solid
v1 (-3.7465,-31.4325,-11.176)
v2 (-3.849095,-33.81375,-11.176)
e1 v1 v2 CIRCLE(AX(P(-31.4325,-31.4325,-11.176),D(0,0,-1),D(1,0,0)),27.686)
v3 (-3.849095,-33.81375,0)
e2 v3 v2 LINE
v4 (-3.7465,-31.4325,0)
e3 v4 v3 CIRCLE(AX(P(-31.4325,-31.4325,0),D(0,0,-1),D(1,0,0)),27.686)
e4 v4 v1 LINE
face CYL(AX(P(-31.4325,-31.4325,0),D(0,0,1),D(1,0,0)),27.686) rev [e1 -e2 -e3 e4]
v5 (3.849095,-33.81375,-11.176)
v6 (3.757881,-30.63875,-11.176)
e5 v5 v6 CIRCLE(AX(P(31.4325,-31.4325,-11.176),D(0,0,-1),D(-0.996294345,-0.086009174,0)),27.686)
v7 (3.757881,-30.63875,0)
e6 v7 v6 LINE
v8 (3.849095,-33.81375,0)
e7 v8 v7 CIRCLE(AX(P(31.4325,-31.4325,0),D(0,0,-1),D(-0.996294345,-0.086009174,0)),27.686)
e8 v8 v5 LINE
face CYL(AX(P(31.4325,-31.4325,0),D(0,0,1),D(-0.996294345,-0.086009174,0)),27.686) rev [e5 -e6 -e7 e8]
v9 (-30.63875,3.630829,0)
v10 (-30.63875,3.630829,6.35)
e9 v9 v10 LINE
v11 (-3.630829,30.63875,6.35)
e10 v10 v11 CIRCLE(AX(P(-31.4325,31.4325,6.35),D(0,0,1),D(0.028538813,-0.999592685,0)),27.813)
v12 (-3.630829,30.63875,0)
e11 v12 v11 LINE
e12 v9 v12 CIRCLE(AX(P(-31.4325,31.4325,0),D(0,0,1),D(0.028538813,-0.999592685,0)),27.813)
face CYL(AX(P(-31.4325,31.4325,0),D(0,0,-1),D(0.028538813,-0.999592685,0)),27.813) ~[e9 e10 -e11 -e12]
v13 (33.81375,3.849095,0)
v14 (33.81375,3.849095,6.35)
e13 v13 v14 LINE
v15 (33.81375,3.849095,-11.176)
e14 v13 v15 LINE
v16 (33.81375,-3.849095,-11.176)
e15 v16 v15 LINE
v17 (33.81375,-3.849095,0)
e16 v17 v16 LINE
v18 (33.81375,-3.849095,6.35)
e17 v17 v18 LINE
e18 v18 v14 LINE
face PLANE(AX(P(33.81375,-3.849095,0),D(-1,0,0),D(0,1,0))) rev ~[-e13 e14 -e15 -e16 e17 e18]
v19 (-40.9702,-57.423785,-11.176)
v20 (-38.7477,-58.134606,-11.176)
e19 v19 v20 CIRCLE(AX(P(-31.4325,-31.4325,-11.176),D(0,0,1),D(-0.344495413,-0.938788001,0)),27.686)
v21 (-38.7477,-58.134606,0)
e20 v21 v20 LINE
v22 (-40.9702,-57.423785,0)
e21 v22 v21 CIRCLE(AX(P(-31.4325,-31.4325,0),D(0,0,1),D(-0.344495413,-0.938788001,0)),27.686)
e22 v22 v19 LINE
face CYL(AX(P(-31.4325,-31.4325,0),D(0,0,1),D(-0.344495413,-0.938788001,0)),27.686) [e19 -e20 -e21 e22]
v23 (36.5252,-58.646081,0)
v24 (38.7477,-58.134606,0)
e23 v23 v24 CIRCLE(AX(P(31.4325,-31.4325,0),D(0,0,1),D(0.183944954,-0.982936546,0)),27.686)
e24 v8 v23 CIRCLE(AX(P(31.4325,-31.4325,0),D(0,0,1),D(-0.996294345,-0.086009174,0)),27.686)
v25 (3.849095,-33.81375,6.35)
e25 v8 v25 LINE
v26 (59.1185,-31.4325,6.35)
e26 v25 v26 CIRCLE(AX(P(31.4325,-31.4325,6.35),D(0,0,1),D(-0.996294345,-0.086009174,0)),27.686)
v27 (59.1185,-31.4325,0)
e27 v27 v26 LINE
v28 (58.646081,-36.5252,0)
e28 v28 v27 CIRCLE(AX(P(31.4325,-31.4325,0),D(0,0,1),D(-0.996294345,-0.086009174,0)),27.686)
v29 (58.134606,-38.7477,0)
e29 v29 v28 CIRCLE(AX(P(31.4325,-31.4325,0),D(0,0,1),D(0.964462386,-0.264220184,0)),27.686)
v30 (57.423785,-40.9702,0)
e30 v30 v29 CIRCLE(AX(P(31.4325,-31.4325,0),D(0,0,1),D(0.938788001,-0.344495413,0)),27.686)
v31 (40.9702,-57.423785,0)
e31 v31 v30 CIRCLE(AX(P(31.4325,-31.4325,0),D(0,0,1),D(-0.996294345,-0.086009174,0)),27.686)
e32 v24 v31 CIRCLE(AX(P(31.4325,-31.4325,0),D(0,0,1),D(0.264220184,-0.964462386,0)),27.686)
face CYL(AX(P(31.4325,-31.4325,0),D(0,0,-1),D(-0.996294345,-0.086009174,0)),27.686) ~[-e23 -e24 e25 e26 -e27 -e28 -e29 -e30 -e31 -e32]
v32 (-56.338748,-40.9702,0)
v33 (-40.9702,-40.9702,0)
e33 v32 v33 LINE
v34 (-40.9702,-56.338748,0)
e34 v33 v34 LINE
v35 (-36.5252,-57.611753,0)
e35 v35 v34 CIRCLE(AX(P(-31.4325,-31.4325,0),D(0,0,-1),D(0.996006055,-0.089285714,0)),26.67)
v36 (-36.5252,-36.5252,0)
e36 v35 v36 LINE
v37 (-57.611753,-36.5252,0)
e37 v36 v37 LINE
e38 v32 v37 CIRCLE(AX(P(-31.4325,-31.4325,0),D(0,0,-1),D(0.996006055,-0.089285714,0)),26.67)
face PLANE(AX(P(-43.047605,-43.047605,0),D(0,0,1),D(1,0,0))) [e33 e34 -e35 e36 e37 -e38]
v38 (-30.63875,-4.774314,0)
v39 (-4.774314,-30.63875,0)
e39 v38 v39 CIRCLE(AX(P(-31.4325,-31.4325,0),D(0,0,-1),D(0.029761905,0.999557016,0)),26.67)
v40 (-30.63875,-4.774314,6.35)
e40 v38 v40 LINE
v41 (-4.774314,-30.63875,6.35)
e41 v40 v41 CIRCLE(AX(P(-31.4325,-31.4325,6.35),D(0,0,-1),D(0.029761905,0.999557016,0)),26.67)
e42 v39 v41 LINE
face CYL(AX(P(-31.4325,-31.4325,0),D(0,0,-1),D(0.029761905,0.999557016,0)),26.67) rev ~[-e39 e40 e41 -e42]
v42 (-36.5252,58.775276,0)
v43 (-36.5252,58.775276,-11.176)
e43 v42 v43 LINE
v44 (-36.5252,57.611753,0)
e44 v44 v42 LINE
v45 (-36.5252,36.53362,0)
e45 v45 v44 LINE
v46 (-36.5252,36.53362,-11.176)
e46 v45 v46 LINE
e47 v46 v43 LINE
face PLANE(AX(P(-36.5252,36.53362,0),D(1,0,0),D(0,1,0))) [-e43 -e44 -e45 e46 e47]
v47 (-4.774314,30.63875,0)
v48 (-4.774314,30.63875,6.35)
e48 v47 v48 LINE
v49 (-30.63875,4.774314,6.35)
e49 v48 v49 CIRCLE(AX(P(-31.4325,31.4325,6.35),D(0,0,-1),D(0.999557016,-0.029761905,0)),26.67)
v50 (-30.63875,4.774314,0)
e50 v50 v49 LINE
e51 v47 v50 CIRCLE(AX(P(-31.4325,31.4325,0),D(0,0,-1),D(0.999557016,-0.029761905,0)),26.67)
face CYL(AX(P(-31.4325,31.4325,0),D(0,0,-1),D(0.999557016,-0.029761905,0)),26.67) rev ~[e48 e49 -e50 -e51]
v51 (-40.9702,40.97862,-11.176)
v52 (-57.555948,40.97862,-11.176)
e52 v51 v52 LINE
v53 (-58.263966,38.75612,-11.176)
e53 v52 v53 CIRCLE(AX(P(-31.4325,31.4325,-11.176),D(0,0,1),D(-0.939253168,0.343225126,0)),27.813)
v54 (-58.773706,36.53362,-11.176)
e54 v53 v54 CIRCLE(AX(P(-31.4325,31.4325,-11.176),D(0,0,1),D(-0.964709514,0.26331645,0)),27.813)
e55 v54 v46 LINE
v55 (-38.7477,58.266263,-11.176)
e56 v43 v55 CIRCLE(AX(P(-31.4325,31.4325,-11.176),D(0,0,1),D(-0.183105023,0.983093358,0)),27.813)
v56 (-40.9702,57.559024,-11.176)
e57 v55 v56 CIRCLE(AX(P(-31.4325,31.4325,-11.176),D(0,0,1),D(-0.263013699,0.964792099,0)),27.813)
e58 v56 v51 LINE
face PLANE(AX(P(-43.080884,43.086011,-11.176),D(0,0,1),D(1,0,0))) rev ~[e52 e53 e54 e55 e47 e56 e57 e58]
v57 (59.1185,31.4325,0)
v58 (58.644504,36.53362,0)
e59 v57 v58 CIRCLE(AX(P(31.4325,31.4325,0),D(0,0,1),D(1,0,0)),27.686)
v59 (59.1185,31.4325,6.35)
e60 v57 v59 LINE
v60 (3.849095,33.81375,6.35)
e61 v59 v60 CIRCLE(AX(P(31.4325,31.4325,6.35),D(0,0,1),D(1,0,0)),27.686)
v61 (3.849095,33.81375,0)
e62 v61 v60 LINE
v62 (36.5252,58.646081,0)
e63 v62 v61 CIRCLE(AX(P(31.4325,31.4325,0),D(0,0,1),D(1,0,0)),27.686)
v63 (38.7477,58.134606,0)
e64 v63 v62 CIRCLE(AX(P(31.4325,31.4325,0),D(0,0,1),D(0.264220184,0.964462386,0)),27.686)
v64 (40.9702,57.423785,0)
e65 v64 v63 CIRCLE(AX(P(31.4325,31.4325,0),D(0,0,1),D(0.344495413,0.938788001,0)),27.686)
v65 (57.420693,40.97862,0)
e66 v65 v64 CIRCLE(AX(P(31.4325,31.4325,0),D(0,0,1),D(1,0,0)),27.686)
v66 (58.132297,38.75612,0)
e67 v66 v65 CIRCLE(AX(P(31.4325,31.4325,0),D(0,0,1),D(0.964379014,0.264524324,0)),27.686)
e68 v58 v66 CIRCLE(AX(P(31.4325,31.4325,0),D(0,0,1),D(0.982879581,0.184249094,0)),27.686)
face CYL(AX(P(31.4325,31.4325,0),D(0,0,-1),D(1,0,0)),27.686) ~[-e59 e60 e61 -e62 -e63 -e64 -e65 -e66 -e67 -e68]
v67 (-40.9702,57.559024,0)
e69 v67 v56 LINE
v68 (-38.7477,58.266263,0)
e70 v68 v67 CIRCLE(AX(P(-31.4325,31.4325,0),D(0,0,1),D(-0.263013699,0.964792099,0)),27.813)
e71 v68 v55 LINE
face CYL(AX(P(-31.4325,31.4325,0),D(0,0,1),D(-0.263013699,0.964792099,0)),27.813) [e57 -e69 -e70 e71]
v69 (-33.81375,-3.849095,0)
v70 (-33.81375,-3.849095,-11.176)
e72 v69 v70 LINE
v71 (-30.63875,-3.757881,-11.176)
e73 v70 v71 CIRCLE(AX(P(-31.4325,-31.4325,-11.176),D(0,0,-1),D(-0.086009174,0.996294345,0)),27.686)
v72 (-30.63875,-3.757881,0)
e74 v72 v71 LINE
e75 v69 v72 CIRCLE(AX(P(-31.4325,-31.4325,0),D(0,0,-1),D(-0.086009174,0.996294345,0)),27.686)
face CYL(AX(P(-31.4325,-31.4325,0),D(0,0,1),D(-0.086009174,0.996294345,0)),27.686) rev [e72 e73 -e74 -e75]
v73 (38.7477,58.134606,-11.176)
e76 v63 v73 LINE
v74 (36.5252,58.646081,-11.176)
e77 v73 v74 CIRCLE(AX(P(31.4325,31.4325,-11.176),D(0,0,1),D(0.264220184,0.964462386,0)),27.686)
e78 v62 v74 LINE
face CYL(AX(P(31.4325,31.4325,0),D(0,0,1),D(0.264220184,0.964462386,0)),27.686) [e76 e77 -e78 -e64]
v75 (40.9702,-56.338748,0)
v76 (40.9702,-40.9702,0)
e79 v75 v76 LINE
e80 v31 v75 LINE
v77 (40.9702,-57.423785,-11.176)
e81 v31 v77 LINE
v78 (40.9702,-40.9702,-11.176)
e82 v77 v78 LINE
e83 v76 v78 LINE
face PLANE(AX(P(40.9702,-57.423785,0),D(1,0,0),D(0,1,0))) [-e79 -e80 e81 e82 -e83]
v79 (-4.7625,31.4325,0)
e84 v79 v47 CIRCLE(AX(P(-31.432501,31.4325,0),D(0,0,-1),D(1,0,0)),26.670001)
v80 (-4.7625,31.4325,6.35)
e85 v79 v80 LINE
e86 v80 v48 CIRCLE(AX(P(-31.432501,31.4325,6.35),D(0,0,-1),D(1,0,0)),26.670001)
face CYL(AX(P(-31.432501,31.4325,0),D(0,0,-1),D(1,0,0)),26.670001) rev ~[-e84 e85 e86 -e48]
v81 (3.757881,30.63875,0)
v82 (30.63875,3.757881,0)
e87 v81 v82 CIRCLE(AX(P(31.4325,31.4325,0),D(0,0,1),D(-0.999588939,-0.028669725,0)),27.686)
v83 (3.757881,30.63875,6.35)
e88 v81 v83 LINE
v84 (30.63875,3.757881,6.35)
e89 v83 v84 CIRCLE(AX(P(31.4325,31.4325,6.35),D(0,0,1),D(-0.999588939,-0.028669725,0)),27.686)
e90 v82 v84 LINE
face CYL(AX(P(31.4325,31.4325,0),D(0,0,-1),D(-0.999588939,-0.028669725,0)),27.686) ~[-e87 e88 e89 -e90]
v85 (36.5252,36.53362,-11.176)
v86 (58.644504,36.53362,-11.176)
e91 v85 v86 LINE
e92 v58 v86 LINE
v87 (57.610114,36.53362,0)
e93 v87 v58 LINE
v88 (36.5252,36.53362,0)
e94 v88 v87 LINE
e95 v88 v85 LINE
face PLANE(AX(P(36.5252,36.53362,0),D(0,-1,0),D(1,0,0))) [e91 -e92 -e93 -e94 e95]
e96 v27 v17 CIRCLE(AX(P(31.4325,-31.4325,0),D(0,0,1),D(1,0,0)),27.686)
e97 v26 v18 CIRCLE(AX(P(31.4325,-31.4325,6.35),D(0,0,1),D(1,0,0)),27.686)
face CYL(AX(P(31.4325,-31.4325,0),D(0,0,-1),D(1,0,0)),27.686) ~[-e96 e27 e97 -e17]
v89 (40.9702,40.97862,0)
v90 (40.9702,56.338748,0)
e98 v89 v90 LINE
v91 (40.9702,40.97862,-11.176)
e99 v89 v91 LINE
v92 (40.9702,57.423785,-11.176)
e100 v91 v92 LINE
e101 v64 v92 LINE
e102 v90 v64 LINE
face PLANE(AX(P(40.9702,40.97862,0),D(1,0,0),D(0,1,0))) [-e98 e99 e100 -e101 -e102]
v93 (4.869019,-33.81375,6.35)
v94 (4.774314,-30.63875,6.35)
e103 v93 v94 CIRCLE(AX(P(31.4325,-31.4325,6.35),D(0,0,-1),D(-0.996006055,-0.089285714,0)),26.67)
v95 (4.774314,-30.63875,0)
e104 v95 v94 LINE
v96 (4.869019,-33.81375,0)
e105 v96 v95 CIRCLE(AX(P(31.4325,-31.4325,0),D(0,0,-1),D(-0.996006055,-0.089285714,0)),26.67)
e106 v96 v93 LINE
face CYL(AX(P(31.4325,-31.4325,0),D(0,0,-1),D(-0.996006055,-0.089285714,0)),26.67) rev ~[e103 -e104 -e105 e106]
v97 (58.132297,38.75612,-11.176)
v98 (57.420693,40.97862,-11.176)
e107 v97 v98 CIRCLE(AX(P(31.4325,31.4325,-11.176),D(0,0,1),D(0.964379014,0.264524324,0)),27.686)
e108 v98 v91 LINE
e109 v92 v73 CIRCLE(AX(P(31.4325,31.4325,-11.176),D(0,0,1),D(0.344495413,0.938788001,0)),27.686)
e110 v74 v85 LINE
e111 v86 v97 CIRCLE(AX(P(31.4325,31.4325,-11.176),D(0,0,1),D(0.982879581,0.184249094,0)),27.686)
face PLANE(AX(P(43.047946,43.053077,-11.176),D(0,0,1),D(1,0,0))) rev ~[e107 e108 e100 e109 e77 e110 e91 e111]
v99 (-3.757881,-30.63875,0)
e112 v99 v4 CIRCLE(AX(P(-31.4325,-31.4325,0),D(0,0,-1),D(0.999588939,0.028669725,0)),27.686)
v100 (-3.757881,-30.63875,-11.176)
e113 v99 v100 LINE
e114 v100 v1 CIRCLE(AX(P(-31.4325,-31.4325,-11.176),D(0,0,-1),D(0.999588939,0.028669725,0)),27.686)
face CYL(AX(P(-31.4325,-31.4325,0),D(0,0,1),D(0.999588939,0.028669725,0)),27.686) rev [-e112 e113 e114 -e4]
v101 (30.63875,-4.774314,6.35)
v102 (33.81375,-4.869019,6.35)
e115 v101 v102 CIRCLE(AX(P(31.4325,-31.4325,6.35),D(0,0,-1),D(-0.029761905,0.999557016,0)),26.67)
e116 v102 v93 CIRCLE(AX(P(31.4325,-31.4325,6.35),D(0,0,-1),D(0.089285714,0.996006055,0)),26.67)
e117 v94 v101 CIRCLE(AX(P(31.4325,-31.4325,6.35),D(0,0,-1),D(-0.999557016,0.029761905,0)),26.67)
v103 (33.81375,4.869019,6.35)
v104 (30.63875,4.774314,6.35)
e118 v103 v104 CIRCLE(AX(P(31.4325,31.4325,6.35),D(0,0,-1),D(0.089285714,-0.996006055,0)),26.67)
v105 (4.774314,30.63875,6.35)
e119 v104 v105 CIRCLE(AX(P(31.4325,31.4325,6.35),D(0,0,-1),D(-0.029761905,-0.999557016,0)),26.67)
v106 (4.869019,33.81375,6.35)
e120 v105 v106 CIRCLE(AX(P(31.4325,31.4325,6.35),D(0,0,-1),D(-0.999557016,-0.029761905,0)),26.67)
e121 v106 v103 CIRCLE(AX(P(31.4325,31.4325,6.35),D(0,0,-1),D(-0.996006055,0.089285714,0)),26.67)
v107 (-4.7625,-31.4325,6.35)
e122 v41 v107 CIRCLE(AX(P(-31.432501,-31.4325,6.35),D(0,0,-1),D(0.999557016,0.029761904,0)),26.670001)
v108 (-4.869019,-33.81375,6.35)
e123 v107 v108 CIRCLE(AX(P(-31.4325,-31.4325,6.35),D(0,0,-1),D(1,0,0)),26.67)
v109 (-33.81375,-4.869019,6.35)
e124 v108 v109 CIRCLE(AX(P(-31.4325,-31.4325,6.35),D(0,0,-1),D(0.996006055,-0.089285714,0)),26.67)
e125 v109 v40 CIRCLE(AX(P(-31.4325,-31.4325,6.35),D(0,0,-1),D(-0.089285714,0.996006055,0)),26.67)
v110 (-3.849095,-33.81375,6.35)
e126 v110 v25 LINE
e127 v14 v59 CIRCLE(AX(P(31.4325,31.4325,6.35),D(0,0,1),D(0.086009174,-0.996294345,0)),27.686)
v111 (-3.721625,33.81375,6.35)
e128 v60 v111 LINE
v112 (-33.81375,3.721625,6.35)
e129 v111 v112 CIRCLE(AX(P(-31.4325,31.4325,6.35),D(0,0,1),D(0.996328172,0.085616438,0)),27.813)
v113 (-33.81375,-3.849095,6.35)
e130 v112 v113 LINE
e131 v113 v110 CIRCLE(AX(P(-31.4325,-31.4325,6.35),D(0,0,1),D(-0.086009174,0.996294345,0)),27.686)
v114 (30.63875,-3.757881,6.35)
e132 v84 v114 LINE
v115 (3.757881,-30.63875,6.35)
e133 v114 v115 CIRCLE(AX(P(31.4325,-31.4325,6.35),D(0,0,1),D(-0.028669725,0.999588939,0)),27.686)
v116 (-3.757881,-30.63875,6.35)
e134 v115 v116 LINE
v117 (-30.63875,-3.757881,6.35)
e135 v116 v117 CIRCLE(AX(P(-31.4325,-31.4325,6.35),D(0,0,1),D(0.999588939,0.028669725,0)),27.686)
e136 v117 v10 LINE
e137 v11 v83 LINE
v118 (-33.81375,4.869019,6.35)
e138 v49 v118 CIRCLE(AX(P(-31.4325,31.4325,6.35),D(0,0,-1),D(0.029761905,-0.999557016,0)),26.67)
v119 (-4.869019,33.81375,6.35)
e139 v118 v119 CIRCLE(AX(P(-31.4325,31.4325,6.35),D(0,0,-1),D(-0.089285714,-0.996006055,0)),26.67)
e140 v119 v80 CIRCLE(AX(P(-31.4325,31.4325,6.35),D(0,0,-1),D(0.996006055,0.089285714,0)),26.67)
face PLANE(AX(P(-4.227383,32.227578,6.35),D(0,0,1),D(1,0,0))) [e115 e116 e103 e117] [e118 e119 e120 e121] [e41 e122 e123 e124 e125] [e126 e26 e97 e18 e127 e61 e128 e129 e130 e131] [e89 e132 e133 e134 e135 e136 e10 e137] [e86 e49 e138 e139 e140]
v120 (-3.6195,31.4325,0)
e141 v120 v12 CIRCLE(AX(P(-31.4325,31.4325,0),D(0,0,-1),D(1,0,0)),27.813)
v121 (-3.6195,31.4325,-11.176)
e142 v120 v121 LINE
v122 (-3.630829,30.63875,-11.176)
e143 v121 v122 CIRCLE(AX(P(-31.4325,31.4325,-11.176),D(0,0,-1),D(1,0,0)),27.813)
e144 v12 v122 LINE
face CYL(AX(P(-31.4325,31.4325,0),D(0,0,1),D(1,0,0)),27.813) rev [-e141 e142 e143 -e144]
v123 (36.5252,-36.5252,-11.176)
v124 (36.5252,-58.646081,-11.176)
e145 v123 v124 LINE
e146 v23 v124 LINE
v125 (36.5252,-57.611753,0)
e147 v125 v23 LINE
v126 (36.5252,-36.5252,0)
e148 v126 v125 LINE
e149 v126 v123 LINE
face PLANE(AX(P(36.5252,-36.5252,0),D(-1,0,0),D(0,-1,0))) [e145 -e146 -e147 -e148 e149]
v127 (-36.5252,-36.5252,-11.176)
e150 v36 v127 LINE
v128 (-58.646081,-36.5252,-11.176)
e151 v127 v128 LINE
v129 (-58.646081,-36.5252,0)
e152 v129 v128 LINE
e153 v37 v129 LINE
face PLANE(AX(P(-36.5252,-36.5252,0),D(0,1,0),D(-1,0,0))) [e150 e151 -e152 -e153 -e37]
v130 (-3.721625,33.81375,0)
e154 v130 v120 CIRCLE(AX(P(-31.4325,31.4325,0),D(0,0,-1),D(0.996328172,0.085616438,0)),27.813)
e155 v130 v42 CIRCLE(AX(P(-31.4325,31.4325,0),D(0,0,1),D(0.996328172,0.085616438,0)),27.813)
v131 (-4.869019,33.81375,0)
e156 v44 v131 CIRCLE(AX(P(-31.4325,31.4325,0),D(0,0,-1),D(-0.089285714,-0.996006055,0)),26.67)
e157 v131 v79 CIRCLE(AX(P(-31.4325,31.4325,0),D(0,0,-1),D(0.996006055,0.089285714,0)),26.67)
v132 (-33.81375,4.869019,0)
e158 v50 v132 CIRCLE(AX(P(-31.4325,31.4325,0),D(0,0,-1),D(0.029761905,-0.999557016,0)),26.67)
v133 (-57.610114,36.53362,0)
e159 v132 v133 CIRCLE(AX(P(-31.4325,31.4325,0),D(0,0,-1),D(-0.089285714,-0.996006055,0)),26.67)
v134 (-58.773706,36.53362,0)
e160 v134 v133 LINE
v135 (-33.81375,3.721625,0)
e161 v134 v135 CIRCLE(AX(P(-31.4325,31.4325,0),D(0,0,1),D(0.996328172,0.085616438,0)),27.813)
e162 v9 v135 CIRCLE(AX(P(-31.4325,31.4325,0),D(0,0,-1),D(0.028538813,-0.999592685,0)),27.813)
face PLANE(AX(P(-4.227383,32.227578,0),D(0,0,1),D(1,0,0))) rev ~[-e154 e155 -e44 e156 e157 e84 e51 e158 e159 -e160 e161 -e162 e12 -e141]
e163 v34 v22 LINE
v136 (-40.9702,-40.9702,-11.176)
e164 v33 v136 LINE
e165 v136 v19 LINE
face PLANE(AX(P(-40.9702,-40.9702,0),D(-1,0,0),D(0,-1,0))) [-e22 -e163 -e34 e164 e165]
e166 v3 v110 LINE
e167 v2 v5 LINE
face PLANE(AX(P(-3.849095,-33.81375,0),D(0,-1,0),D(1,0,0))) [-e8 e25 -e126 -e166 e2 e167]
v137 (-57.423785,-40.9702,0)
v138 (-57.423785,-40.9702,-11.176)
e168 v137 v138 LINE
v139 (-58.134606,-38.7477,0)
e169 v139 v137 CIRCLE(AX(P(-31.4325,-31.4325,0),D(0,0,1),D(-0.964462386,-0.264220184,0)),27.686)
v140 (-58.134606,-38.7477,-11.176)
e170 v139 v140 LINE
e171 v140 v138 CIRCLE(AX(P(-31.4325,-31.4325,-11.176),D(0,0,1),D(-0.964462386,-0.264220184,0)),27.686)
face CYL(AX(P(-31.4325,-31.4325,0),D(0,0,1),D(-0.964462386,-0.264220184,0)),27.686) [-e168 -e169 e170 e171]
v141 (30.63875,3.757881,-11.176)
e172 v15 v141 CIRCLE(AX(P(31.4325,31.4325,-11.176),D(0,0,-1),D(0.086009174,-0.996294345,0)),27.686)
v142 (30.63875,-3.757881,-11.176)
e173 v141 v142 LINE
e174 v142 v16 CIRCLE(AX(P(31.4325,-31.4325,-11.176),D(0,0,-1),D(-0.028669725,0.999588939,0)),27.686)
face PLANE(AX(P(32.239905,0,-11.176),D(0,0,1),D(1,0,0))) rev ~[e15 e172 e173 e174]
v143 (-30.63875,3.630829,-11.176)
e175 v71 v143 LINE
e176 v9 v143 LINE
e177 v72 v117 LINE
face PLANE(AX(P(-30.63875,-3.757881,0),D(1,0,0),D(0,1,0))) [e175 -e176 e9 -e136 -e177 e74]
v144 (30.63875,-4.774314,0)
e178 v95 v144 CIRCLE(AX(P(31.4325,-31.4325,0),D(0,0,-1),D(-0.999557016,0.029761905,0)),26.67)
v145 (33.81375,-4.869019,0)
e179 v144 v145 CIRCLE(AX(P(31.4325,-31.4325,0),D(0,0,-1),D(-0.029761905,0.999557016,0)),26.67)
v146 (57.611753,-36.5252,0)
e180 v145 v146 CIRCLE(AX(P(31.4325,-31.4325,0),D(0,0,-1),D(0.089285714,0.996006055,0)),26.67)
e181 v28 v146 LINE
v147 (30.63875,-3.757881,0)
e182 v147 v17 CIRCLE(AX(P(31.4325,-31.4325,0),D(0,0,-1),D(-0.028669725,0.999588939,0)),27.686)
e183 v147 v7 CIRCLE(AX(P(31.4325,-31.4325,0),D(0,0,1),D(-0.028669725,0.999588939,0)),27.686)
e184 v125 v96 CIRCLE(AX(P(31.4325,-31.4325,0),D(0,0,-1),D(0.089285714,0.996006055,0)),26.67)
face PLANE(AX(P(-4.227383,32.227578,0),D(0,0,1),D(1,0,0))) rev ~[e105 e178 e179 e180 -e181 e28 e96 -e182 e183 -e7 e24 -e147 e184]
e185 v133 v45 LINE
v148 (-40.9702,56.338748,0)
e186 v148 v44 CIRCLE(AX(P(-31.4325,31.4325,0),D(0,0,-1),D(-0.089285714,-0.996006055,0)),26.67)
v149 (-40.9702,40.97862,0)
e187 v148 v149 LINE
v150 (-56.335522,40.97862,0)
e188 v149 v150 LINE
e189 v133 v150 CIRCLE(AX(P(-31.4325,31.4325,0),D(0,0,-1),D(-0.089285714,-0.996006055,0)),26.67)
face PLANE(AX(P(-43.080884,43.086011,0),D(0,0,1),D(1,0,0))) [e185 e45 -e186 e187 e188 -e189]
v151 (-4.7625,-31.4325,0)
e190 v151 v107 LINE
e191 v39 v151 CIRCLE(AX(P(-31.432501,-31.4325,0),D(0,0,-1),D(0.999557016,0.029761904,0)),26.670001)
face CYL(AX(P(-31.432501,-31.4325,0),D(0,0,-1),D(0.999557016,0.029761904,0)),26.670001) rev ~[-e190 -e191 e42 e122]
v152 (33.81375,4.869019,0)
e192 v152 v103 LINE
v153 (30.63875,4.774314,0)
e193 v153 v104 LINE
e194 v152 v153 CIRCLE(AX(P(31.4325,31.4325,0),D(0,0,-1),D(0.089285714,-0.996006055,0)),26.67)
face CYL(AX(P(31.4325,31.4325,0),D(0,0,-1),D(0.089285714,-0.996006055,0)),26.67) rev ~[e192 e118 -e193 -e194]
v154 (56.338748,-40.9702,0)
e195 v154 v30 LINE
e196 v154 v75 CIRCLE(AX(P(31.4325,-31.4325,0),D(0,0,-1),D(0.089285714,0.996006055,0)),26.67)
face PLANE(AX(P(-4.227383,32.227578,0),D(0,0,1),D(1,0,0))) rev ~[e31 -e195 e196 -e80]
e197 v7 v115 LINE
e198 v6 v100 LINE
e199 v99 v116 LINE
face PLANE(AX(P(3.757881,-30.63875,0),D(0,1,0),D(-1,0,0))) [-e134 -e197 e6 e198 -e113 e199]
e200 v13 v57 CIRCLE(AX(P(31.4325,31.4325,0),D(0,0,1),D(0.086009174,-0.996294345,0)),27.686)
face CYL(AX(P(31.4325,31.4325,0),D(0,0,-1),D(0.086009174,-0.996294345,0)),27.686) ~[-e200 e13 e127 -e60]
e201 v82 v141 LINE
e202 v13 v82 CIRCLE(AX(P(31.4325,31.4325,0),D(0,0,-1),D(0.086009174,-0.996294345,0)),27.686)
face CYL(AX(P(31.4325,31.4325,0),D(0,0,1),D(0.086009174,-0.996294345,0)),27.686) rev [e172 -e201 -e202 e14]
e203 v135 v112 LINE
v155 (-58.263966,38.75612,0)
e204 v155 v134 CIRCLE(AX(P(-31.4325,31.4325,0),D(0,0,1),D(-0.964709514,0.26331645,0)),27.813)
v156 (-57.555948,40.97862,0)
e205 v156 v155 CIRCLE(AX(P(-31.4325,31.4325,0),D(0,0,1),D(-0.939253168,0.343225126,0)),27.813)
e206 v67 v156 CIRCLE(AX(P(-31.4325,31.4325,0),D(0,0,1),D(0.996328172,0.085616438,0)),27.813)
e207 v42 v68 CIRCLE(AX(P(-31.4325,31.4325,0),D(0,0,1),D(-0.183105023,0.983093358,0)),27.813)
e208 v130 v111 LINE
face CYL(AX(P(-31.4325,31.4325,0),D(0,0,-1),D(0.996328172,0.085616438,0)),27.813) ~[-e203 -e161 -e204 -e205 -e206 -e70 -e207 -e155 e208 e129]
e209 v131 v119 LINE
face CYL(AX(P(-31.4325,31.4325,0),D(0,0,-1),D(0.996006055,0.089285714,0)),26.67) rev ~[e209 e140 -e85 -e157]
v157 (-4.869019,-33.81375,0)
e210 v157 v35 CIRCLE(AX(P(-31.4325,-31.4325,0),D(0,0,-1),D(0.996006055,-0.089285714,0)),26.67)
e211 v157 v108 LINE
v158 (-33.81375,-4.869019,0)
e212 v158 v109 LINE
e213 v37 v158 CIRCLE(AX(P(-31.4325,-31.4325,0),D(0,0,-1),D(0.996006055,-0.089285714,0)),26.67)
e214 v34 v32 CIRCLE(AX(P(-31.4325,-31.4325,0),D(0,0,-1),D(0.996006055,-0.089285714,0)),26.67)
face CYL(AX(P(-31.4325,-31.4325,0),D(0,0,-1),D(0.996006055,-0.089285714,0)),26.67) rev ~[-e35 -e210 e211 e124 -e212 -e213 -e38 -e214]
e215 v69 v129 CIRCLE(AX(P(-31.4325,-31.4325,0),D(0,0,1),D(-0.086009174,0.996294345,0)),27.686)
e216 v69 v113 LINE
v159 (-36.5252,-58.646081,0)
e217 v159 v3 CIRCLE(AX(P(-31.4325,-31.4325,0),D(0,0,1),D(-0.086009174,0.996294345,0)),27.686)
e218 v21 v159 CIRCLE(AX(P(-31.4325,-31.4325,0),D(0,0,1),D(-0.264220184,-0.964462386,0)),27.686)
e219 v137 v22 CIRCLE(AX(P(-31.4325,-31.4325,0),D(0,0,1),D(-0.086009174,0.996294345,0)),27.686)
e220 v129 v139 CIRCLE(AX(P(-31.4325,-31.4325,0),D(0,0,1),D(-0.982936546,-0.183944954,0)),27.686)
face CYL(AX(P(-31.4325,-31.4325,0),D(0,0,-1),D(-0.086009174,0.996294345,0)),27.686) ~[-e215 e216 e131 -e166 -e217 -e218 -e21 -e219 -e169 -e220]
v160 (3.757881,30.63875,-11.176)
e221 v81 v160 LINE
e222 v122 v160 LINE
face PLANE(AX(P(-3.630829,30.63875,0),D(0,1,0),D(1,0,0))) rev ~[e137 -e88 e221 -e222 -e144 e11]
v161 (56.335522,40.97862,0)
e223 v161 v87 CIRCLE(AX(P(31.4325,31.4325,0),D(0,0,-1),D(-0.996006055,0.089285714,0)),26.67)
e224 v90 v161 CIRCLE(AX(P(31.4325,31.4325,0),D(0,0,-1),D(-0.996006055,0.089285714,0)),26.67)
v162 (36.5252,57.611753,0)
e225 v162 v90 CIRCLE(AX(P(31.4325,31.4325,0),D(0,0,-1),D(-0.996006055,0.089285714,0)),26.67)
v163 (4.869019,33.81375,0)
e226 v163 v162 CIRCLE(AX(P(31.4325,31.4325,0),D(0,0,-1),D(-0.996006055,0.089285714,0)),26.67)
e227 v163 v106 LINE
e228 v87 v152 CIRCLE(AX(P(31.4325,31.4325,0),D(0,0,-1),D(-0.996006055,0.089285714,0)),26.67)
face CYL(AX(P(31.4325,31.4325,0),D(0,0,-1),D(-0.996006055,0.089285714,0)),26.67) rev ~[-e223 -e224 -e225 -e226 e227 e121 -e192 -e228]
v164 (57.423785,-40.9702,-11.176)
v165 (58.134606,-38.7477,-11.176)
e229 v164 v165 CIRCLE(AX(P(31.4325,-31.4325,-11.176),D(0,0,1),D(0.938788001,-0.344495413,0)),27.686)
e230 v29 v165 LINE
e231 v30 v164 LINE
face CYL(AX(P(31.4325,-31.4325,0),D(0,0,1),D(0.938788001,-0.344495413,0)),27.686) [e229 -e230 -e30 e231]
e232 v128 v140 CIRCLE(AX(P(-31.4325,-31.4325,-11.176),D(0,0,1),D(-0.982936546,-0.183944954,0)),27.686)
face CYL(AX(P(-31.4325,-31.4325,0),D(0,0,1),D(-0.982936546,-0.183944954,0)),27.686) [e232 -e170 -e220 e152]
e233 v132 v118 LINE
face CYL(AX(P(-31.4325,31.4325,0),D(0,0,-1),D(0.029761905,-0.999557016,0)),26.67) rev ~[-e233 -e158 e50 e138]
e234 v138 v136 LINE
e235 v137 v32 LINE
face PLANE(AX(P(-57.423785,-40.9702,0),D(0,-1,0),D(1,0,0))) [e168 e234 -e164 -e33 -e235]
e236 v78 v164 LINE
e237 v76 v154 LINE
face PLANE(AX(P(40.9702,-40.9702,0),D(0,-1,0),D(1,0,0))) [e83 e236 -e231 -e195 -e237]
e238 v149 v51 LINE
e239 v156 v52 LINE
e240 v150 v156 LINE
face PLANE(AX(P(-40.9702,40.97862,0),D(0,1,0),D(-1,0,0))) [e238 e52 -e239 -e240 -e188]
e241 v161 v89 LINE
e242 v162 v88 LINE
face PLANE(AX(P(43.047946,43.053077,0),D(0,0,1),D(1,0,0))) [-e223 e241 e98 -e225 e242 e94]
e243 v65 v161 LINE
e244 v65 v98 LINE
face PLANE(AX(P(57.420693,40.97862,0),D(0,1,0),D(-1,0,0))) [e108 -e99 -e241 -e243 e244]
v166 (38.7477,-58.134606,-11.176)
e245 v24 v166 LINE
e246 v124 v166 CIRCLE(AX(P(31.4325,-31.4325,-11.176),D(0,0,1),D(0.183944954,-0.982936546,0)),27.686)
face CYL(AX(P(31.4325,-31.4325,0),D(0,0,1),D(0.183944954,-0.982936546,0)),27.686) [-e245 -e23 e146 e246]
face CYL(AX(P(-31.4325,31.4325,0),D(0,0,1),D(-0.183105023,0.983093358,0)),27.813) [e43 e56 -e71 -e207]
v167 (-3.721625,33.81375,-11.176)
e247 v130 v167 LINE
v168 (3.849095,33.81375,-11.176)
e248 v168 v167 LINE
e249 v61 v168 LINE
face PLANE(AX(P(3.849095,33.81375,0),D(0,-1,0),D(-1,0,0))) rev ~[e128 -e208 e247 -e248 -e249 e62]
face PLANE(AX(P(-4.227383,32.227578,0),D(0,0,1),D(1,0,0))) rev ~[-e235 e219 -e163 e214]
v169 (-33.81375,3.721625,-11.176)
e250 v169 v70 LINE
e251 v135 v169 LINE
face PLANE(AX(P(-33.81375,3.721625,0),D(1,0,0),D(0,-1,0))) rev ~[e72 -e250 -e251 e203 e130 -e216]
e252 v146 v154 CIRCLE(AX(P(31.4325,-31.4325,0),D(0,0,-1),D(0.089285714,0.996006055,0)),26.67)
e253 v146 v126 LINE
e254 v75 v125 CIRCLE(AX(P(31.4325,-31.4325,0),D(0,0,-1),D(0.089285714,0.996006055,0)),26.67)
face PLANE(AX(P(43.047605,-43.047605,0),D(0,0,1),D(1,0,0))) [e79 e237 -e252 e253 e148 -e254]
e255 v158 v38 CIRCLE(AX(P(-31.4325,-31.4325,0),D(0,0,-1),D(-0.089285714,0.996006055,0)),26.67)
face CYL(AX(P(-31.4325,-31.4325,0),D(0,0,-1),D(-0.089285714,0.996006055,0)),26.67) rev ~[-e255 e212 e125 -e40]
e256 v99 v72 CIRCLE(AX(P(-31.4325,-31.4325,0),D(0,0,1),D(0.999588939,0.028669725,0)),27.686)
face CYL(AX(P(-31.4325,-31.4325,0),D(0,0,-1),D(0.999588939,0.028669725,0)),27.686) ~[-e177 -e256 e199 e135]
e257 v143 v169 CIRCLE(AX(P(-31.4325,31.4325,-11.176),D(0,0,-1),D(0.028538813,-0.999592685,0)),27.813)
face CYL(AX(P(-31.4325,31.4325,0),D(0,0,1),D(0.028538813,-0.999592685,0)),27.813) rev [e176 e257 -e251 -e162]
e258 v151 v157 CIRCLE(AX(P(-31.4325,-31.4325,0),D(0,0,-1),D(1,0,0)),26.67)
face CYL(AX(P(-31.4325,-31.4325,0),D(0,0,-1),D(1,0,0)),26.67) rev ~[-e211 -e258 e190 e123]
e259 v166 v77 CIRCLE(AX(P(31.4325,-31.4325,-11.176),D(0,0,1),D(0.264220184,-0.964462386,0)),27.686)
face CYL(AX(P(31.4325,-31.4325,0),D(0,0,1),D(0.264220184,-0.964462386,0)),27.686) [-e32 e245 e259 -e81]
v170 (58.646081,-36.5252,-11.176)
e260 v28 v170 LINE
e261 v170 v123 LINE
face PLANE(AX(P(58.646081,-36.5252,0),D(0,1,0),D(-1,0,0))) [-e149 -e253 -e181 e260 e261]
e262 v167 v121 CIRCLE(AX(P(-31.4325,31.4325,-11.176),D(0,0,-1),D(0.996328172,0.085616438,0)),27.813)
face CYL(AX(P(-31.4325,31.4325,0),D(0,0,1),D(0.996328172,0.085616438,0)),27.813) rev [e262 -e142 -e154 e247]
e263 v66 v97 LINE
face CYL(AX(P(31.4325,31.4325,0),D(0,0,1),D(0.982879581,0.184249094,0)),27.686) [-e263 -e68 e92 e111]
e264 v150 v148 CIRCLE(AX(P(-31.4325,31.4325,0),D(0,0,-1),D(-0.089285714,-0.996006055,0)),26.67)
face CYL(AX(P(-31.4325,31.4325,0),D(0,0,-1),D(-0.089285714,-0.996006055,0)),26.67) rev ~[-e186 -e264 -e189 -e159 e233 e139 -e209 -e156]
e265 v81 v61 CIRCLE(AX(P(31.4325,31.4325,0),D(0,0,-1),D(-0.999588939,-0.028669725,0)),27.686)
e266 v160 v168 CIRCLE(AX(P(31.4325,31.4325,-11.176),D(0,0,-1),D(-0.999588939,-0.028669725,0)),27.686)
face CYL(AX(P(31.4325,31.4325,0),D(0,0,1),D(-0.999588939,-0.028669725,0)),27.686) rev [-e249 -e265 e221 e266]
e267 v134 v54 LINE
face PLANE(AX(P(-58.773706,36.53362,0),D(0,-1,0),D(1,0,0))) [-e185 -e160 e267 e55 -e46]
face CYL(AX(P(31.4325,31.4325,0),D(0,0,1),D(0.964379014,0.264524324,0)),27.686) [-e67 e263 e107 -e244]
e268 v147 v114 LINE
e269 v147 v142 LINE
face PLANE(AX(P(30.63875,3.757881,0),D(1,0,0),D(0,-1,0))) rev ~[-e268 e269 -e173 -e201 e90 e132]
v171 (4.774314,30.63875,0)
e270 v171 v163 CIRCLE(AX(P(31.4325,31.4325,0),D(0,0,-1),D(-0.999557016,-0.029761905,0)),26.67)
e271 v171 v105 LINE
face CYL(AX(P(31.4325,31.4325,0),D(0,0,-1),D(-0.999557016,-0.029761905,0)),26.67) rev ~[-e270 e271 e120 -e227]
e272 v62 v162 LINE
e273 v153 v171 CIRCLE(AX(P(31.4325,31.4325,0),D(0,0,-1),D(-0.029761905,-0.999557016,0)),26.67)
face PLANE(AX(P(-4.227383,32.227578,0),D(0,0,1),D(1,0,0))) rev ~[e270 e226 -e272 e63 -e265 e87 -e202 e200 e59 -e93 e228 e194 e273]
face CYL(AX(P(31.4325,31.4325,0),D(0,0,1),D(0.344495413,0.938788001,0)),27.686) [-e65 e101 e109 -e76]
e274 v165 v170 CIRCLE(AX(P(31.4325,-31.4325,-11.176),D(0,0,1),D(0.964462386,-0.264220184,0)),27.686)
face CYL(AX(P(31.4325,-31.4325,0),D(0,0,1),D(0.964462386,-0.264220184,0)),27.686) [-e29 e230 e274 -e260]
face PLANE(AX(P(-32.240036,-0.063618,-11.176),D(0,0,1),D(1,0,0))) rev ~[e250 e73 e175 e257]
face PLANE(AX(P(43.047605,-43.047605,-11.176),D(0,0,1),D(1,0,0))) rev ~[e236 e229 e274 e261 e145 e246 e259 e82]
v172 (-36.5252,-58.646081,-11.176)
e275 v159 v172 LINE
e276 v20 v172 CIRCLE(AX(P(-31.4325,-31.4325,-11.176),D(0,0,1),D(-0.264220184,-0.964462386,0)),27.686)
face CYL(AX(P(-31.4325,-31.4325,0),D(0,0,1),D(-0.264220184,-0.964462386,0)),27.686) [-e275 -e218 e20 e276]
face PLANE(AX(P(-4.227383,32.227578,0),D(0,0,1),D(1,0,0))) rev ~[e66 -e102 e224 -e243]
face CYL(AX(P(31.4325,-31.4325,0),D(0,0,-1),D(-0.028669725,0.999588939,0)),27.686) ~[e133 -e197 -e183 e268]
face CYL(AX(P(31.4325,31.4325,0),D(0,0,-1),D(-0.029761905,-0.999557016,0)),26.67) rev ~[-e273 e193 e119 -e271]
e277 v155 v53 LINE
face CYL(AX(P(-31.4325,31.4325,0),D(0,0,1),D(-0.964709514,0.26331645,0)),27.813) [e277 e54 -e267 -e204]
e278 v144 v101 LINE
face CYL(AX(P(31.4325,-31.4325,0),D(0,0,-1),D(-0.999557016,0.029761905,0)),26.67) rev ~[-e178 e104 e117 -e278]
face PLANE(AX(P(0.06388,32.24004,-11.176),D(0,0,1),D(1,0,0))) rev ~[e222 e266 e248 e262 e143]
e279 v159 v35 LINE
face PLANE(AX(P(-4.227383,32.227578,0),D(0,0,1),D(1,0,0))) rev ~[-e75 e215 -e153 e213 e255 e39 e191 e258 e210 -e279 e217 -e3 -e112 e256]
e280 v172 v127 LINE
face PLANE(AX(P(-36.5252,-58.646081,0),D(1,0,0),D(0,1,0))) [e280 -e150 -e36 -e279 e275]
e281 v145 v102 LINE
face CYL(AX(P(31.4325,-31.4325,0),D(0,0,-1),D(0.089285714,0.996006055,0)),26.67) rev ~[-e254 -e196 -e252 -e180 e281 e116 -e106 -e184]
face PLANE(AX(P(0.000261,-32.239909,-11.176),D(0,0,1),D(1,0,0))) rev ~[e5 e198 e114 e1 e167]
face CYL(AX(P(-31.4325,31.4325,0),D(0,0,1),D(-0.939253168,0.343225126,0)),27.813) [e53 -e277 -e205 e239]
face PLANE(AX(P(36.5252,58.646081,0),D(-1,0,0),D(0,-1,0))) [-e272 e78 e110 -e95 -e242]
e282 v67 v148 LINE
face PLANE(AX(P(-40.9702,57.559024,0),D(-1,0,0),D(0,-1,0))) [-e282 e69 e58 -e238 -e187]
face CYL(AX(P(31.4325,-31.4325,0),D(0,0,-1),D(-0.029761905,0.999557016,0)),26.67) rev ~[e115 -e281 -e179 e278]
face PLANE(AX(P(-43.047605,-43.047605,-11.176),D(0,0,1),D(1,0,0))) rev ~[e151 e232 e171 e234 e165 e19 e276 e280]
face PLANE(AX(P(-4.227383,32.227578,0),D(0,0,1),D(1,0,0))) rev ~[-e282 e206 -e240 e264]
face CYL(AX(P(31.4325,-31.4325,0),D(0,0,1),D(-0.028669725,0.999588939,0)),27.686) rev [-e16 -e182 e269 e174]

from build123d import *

# Parameters (mm, degrees)
F1_DEPTH = 6.35
F2_DEPTH = 11.176
F4_DEPTH = 11.176


with BuildPart() as f1:
    # F0 (on Top) → F1 (new body)
    with BuildSketch(Plane.XY):
        with BuildLine():
            ThreePointArc((-4.8690185181, 33.81375), (-4.7891429375, 32.6243156063), (-4.7625, 31.4325))
            ThreePointArc((-4.7625, 31.4325), (-4.7654537568, 31.0355810404), (-4.7743143727, 30.63875))
            Line((-4.7743143727, 30.63875), (-3.6308286485, 30.63875))
            ThreePointArc((-3.6308286485, 30.63875), (-3.6223323063, 31.0355845806), (-3.6195, 31.4325))
            ThreePointArc((-3.6195, 31.4325), (-3.64504287, 32.6242194499), (-3.7216245639, 33.81375))
            Line((-3.7216245639, 33.81375), (-4.8690185181, 33.81375))
        make_face()
        with BuildLine():
            ThreePointArc((-33.81375, 4.8690185181), (-50.2910378542, 50.2910378542), (-4.8690185181, 33.81375))
            Line((-4.8690185181, 33.81375), (-3.7216245639, 33.81375))
            ThreePointArc((-3.7216245639, 33.81375), (-51.0992609051, 51.0992609051), (-33.81375, 3.7216245639))
            Line((-33.81375, 3.7216245639), (-33.81375, 4.8690185181))
        make_face()
        with BuildLine():
            ThreePointArc((-30.63875, 4.7743143727), (-32.2276611669, 4.7743564277), (-33.81375, 4.8690185181))
            Line((-33.81375, 4.8690185181), (-33.81375, 3.7216245639))
            ThreePointArc((-33.81375, 3.7216245639), (-32.2275471917, 3.6308657142), (-30.63875, 3.6308286485))
            Line((-30.63875, 3.6308286485), (-30.63875, 4.7743143727))
        make_face()
        with BuildLine():
            Line((3.8490947636, 33.81375), (-3.7216245639, 33.81375))
            ThreePointArc((-3.7216245639, 33.81375), (-3.64504287, 32.6242194499), (-3.6195, 31.4325))
            ThreePointArc((-3.6195, 31.4325), (-3.6223323063, 31.0355845806), (-3.6308286485, 30.63875))
            Line((-3.6308286485, 30.63875), (3.7578806361, 30.63875))
            ThreePointArc((3.7578806361, 30.63875), (3.7579182157, 32.2275591593), (3.8490947636, 33.81375))
        make_face()
        with BuildLine():
            ThreePointArc((-30.63875, 3.6308286485), (-32.2275471917, 3.6308657142), (-33.81375, 3.7216245639))
            Line((-33.81375, 3.7216245639), (-33.81375, -3.8490947636))
            ThreePointArc((-33.81375, -3.8490947636), (-32.2275591593, -3.7579182157), (-30.63875, -3.7578806361))
            Line((-30.63875, -3.7578806361), (-30.63875, 3.6308286485))
        make_face()
        with BuildLine():
            Line((4.8690185181, 33.81375), (3.8490947636, 33.81375))
            ThreePointArc((3.8490947636, 33.81375), (3.7579182157, 32.2275591593), (3.7578806361, 30.63875))
            Line((3.7578806361, 30.63875), (4.7743143727, 30.63875))
            ThreePointArc((4.7743143727, 30.63875), (4.7743564277, 32.2276611669), (4.8690185181, 33.81375))
        make_face()
        with BuildLine():
            ThreePointArc((59.1185, 31.4325), (32.6242295465, 59.0928394174), (3.8490947636, 33.81375))
            Line((3.8490947636, 33.81375), (4.8690185181, 33.81375))
            ThreePointArc((4.8690185181, 33.81375), (32.6243156063, 58.0758570625), (58.1025, 31.4325))
            ThreePointArc((58.1025, 31.4325), (51.1149393496, 13.4355424446), (33.81375, 4.8690185181))
            Line((33.81375, 4.8690185181), (33.81375, 3.8490947636))
            ThreePointArc((33.81375, 3.8490947636), (51.8339936157, 12.7163664717), (59.1185, 31.4325))
        make_face()
        with BuildLine():
            Line((-33.81375, -4.8690185181), (-33.81375, -3.8490947636))
            ThreePointArc((-33.81375, -3.8490947636), (-51.0094583439, -51.0094583439), (-3.8490947636, -33.81375))
            Line((-3.8490947636, -33.81375), (-4.8690185181, -33.81375))
            ThreePointArc((-4.8690185181, -33.81375), (-50.2910378542, -50.2910378542), (-33.81375, -4.8690185181))
        make_face()
        with BuildLine():
            ThreePointArc((-30.63875, -3.7578806361), (-32.2275591593, -3.7579182157), (-33.81375, -3.8490947636))
            Line((-33.81375, -3.8490947636), (-33.81375, -4.8690185181))
            ThreePointArc((-33.81375, -4.8690185181), (-32.2276611669, -4.7743564277), (-30.63875, -4.7743143727))
            Line((-30.63875, -4.7743143727), (-30.63875, -3.7578806361))
        make_face()
        with BuildLine():
            Line((30.63875, 4.7743143727), (30.63875, 3.7578806361))
            ThreePointArc((30.63875, 3.7578806361), (32.2275591593, 3.7579182157), (33.81375, 3.8490947636))
            Line((33.81375, 3.8490947636), (33.81375, 4.8690185181))
            ThreePointArc((33.81375, 4.8690185181), (32.2276611669, 4.7743564277), (30.63875, 4.7743143727))
        make_face()
        with BuildLine():
            ThreePointArc((33.81375, 3.8490947636), (32.2275591593, 3.7579182157), (30.63875, 3.7578806361))
            Line((30.63875, 3.7578806361), (30.63875, -3.7578806361))
            ThreePointArc((30.63875, -3.7578806361), (32.2275591593, -3.7579182157), (33.81375, -3.8490947636))
            Line((33.81375, -3.8490947636), (33.81375, 3.8490947636))
        make_face()
        with BuildLine():
            Line((-4.8690185181, -33.81375), (-3.8490947636, -33.81375))
            ThreePointArc((-3.8490947636, -33.81375), (-3.7721605826, -32.6242295465), (-3.7465, -31.4325))
            ThreePointArc((-3.7465, -31.4325), (-3.7493453052, -31.0355842087), (-3.7578806361, -30.63875))
            Line((-3.7578806361, -30.63875), (-4.7743143727, -30.63875))
            ThreePointArc((-4.7743143727, -30.63875), (-4.7654537568, -31.0355810404), (-4.7625, -31.4325))
            ThreePointArc((-4.7625, -31.4325), (-4.7891429375, -32.6243156063), (-4.8690185181, -33.81375))
        make_face()
        with BuildLine():
            ThreePointArc((-3.7465, -31.4325), (-3.7721605826, -32.6242295465), (-3.8490947636, -33.81375))
            Line((-3.8490947636, -33.81375), (3.8490947636, -33.81375))
            ThreePointArc((3.8490947636, -33.81375), (3.7579182157, -32.2275591593), (3.7578806361, -30.63875))
            Line((3.7578806361, -30.63875), (-3.7578806361, -30.63875))
            ThreePointArc((-3.7578806361, -30.63875), (-3.7493453052, -31.0355842087), (-3.7465, -31.4325))
        make_face()
        with BuildLine():
            ThreePointArc((33.81375, -3.8490947636), (32.2275591593, -3.7579182157), (30.63875, -3.7578806361))
            Line((30.63875, -3.7578806361), (30.63875, -4.7743143727))
            ThreePointArc((30.63875, -4.7743143727), (32.2276611669, -4.7743564277), (33.81375, -4.8690185181))
            Line((33.81375, -4.8690185181), (33.81375, -3.8490947636))
        make_face()
        with BuildLine():
            Line((4.8690185181, -33.81375), (3.8490947636, -33.81375))
            ThreePointArc((3.8490947636, -33.81375), (32.6242295465, -59.0928394174), (59.1185, -31.4325))
            ThreePointArc((59.1185, -31.4325), (51.8339936157, -12.7163664717), (33.81375, -3.8490947636))
            Line((33.81375, -3.8490947636), (33.81375, -4.8690185181))
            ThreePointArc((33.81375, -4.8690185181), (51.1149393496, -13.4355424446), (58.1025, -31.4325))
            ThreePointArc((58.1025, -31.4325), (32.6243156063, -58.0758570625), (4.8690185181, -33.81375))
        make_face()
        with BuildLine():
            ThreePointArc((3.7578806361, -30.63875), (3.7579182157, -32.2275591593), (3.8490947636, -33.81375))
            Line((3.8490947636, -33.81375), (4.8690185181, -33.81375))
            ThreePointArc((4.8690185181, -33.81375), (4.7743564277, -32.2276611669), (4.7743143727, -30.63875))
            Line((4.7743143727, -30.63875), (3.7578806361, -30.63875))
        make_face()
        with BuildLine():
            Line((-3.6308286485, 30.63875), (-4.7743143727, 30.63875))
            ThreePointArc((-4.7743143727, 30.63875), (-12.5739621458, 12.5739621458), (-30.63875, 4.7743143727))
            Line((-30.63875, 4.7743143727), (-30.63875, 3.6308286485))
            ThreePointArc((-30.63875, 3.6308286485), (-11.7657390949, 11.7657390949), (-3.6308286485, 30.63875))
        make_face()
        with BuildLine():
            ThreePointArc((-3.7578806361, -30.63875), (-11.8555416561, -11.8555416561), (-30.63875, -3.7578806361))
            Line((-30.63875, -3.7578806361), (-30.63875, -4.7743143727))
            ThreePointArc((-30.63875, -4.7743143727), (-12.5739621458, -12.5739621458), (-4.7743143727, -30.63875))
            Line((-4.7743143727, -30.63875), (-3.7578806361, -30.63875))
        make_face()
        with BuildLine():
            Line((30.63875, -4.7743143727), (30.63875, -3.7578806361))
            ThreePointArc((30.63875, -3.7578806361), (11.8555416561, -11.8555416561), (3.7578806361, -30.63875))
            Line((3.7578806361, -30.63875), (4.7743143727, -30.63875))
            ThreePointArc((4.7743143727, -30.63875), (12.5739621458, -12.5739621458), (30.63875, -4.7743143727))
        make_face()
        with BuildLine():
            Line((4.7743143727, 30.63875), (3.7578806361, 30.63875))
            ThreePointArc((3.7578806361, 30.63875), (11.8555416561, 11.8555416561), (30.63875, 3.7578806361))
            Line((30.63875, 3.7578806361), (30.63875, 4.7743143727))
            ThreePointArc((30.63875, 4.7743143727), (12.5739621458, 12.5739621458), (4.7743143727, 30.63875))
        make_face()
    extrude(amount=F1_DEPTH)

    # F0 (on Top) → F2 (join)
    with BuildSketch(Plane.XY):
        with BuildLine():
            ThreePointArc((-3.7465, -31.4325), (-3.7721605826, -32.6242295465), (-3.8490947636, -33.81375))
            Line((-3.8490947636, -33.81375), (3.8490947636, -33.81375))
            ThreePointArc((3.8490947636, -33.81375), (3.7579182157, -32.2275591593), (3.7578806361, -30.63875))
            Line((3.7578806361, -30.63875), (-3.7578806361, -30.63875))
            ThreePointArc((-3.7578806361, -30.63875), (-3.7493453052, -31.0355842087), (-3.7465, -31.4325))
        make_face()
        with BuildLine():
            ThreePointArc((-30.63875, 3.6308286485), (-32.2275471917, 3.6308657142), (-33.81375, 3.7216245639))
            Line((-33.81375, 3.7216245639), (-33.81375, -3.8490947636))
            ThreePointArc((-33.81375, -3.8490947636), (-32.2275591593, -3.7579182157), (-30.63875, -3.7578806361))
            Line((-30.63875, -3.7578806361), (-30.63875, 3.6308286485))
        make_face()
        with BuildLine():
            Line((3.8490947636, 33.81375), (-3.7216245639, 33.81375))
            ThreePointArc((-3.7216245639, 33.81375), (-3.64504287, 32.6242194499), (-3.6195, 31.4325))
            ThreePointArc((-3.6195, 31.4325), (-3.6223323063, 31.0355845806), (-3.6308286485, 30.63875))
            Line((-3.6308286485, 30.63875), (3.7578806361, 30.63875))
            ThreePointArc((3.7578806361, 30.63875), (3.7579182157, 32.2275591593), (3.8490947636, 33.81375))
        make_face()
        with BuildLine():
            ThreePointArc((33.81375, 3.8490947636), (32.2275591593, 3.7579182157), (30.63875, 3.7578806361))
            Line((30.63875, 3.7578806361), (30.63875, -3.7578806361))
            ThreePointArc((30.63875, -3.7578806361), (32.2275591593, -3.7579182157), (33.81375, -3.8490947636))
            Line((33.81375, -3.8490947636), (33.81375, 3.8490947636))
        make_face()
    extrude(amount=-F2_DEPTH)

    # F3 (on Top) → F4 (join)
    with BuildSketch(Plane.XY):
        with BuildLine():
            Line((-38.7477, 58.2662626501), (-38.7477, 38.7561204209))
            Line((-38.7477, 38.7561204209), (-58.2639657246, 38.7561204209))
            ThreePointArc((-58.2639657246, 38.7561204209), (-58.5416214169, 37.650096401), (-58.7737058888, 36.5336204209))
            Line((-58.7737058888, 36.5336204209), (-36.5252, 36.5336204209))
            Line((-36.5252, 36.5336204209), (-36.5252, 58.775275567))
            ThreePointArc((-36.5252, 58.775275567), (-37.641668152, 58.5435530939), (-38.7477, 58.2662626501))
        make_face()
        with BuildLine():
            Line((-58.2639657246, 38.7561204209), (-38.7477, 38.7561204209))
            Line((-38.7477, 38.7561204209), (-38.7477, 58.2662626501))
            ThreePointArc((-38.7477, 58.2662626501), (-39.8663666273, 57.9359500153), (-40.9702, 57.5590238352))
            Line((-40.9702, 57.5590238352), (-40.9702, 40.9786204209))
            Line((-40.9702, 40.9786204209), (-57.5559483541, 40.9786204209))
            ThreePointArc((-57.5559483541, 40.9786204209), (-57.9332661744, 39.8747959654), (-58.2639657246, 38.7561204209))
        make_face()
        with BuildLine():
            ThreePointArc((58.6445040874, 36.5336204209), (58.4112965044, 37.6501470771), (58.1322973762, 38.7561204209))
            Line((58.1322973762, 38.7561204209), (38.7477, 38.7561204209))
            Line((38.7477, 38.7561204209), (38.7477, 58.1346056278))
            ThreePointArc((38.7477, 58.1346056278), (37.6417187449, 58.413237547), (36.5252, 58.646081218))
            Line((36.5252, 58.646081218), (36.5252, 36.5336204209))
            Line((36.5252, 36.5336204209), (58.6445040874, 36.5336204209))
        make_face()
        with BuildLine():
            Line((38.7477, 38.7561204209), (58.1322973762, 38.7561204209))
            ThreePointArc((58.1322973762, 38.7561204209), (57.7999223583, 39.8748713598), (57.4206931059, 40.9786204209))
            Line((57.4206931059, 40.9786204209), (40.9702, 40.9786204209))
            Line((40.9702, 40.9786204209), (40.9702, 57.4237845914))
            ThreePointArc((40.9702, 57.4237845914), (39.8664419158, 57.8026198283), (38.7477, 58.1346056278))
            Line((38.7477, 58.1346056278), (38.7477, 38.7561204209))
        make_face()
        with BuildLine():
            Line((-58.1346056278, -38.7477), (-38.7477, -38.7477))
            Line((-38.7477, -38.7477), (-38.7477, -58.1346056278))
            ThreePointArc((-38.7477, -58.1346056278), (-37.6417187449, -58.413237547), (-36.5252, -58.646081218))
            Line((-36.5252, -58.646081218), (-36.5252, -36.5252))
            Line((-36.5252, -36.5252), (-58.646081218, -36.5252))
            ThreePointArc((-58.646081218, -36.5252), (-58.413237547, -37.6417187449), (-58.1346056278, -38.7477))
        make_face()
        with BuildLine():
            Line((-38.7477, -58.1346056278), (-38.7477, -38.7477))
            Line((-38.7477, -38.7477), (-58.1346056278, -38.7477))
            ThreePointArc((-58.1346056278, -38.7477), (-57.8026198283, -39.8664419158), (-57.4237845914, -40.9702))
            Line((-57.4237845914, -40.9702), (-40.9702, -40.9702))
            Line((-40.9702, -40.9702), (-40.9702, -57.4237845914))
            ThreePointArc((-40.9702, -57.4237845914), (-39.8664419158, -57.8026198283), (-38.7477, -58.1346056278))
        make_face()
        with BuildLine():
            ThreePointArc((36.5252, -58.646081218), (37.6417187449, -58.413237547), (38.7477, -58.1346056278))
            Line((38.7477, -58.1346056278), (38.7477, -38.7477))
            Line((38.7477, -38.7477), (58.1346056278, -38.7477))
            ThreePointArc((58.1346056278, -38.7477), (58.413237547, -37.6417187449), (58.646081218, -36.5252))
            Line((58.646081218, -36.5252), (36.5252, -36.5252))
            Line((36.5252, -36.5252), (36.5252, -58.646081218))
        make_face()
        with BuildLine():
            Line((38.7477, -38.7477), (38.7477, -58.1346056278))
            ThreePointArc((38.7477, -58.1346056278), (39.8664419158, -57.8026198283), (40.9702, -57.4237845914))
            Line((40.9702, -57.4237845914), (40.9702, -40.9702))
            Line((40.9702, -40.9702), (57.4237845914, -40.9702))
            ThreePointArc((57.4237845914, -40.9702), (57.8026198283, -39.8664419158), (58.1346056278, -38.7477))
            Line((58.1346056278, -38.7477), (38.7477, -38.7477))
        make_face()
    extrude(amount=-F4_DEPTH)


solid = f1.part
